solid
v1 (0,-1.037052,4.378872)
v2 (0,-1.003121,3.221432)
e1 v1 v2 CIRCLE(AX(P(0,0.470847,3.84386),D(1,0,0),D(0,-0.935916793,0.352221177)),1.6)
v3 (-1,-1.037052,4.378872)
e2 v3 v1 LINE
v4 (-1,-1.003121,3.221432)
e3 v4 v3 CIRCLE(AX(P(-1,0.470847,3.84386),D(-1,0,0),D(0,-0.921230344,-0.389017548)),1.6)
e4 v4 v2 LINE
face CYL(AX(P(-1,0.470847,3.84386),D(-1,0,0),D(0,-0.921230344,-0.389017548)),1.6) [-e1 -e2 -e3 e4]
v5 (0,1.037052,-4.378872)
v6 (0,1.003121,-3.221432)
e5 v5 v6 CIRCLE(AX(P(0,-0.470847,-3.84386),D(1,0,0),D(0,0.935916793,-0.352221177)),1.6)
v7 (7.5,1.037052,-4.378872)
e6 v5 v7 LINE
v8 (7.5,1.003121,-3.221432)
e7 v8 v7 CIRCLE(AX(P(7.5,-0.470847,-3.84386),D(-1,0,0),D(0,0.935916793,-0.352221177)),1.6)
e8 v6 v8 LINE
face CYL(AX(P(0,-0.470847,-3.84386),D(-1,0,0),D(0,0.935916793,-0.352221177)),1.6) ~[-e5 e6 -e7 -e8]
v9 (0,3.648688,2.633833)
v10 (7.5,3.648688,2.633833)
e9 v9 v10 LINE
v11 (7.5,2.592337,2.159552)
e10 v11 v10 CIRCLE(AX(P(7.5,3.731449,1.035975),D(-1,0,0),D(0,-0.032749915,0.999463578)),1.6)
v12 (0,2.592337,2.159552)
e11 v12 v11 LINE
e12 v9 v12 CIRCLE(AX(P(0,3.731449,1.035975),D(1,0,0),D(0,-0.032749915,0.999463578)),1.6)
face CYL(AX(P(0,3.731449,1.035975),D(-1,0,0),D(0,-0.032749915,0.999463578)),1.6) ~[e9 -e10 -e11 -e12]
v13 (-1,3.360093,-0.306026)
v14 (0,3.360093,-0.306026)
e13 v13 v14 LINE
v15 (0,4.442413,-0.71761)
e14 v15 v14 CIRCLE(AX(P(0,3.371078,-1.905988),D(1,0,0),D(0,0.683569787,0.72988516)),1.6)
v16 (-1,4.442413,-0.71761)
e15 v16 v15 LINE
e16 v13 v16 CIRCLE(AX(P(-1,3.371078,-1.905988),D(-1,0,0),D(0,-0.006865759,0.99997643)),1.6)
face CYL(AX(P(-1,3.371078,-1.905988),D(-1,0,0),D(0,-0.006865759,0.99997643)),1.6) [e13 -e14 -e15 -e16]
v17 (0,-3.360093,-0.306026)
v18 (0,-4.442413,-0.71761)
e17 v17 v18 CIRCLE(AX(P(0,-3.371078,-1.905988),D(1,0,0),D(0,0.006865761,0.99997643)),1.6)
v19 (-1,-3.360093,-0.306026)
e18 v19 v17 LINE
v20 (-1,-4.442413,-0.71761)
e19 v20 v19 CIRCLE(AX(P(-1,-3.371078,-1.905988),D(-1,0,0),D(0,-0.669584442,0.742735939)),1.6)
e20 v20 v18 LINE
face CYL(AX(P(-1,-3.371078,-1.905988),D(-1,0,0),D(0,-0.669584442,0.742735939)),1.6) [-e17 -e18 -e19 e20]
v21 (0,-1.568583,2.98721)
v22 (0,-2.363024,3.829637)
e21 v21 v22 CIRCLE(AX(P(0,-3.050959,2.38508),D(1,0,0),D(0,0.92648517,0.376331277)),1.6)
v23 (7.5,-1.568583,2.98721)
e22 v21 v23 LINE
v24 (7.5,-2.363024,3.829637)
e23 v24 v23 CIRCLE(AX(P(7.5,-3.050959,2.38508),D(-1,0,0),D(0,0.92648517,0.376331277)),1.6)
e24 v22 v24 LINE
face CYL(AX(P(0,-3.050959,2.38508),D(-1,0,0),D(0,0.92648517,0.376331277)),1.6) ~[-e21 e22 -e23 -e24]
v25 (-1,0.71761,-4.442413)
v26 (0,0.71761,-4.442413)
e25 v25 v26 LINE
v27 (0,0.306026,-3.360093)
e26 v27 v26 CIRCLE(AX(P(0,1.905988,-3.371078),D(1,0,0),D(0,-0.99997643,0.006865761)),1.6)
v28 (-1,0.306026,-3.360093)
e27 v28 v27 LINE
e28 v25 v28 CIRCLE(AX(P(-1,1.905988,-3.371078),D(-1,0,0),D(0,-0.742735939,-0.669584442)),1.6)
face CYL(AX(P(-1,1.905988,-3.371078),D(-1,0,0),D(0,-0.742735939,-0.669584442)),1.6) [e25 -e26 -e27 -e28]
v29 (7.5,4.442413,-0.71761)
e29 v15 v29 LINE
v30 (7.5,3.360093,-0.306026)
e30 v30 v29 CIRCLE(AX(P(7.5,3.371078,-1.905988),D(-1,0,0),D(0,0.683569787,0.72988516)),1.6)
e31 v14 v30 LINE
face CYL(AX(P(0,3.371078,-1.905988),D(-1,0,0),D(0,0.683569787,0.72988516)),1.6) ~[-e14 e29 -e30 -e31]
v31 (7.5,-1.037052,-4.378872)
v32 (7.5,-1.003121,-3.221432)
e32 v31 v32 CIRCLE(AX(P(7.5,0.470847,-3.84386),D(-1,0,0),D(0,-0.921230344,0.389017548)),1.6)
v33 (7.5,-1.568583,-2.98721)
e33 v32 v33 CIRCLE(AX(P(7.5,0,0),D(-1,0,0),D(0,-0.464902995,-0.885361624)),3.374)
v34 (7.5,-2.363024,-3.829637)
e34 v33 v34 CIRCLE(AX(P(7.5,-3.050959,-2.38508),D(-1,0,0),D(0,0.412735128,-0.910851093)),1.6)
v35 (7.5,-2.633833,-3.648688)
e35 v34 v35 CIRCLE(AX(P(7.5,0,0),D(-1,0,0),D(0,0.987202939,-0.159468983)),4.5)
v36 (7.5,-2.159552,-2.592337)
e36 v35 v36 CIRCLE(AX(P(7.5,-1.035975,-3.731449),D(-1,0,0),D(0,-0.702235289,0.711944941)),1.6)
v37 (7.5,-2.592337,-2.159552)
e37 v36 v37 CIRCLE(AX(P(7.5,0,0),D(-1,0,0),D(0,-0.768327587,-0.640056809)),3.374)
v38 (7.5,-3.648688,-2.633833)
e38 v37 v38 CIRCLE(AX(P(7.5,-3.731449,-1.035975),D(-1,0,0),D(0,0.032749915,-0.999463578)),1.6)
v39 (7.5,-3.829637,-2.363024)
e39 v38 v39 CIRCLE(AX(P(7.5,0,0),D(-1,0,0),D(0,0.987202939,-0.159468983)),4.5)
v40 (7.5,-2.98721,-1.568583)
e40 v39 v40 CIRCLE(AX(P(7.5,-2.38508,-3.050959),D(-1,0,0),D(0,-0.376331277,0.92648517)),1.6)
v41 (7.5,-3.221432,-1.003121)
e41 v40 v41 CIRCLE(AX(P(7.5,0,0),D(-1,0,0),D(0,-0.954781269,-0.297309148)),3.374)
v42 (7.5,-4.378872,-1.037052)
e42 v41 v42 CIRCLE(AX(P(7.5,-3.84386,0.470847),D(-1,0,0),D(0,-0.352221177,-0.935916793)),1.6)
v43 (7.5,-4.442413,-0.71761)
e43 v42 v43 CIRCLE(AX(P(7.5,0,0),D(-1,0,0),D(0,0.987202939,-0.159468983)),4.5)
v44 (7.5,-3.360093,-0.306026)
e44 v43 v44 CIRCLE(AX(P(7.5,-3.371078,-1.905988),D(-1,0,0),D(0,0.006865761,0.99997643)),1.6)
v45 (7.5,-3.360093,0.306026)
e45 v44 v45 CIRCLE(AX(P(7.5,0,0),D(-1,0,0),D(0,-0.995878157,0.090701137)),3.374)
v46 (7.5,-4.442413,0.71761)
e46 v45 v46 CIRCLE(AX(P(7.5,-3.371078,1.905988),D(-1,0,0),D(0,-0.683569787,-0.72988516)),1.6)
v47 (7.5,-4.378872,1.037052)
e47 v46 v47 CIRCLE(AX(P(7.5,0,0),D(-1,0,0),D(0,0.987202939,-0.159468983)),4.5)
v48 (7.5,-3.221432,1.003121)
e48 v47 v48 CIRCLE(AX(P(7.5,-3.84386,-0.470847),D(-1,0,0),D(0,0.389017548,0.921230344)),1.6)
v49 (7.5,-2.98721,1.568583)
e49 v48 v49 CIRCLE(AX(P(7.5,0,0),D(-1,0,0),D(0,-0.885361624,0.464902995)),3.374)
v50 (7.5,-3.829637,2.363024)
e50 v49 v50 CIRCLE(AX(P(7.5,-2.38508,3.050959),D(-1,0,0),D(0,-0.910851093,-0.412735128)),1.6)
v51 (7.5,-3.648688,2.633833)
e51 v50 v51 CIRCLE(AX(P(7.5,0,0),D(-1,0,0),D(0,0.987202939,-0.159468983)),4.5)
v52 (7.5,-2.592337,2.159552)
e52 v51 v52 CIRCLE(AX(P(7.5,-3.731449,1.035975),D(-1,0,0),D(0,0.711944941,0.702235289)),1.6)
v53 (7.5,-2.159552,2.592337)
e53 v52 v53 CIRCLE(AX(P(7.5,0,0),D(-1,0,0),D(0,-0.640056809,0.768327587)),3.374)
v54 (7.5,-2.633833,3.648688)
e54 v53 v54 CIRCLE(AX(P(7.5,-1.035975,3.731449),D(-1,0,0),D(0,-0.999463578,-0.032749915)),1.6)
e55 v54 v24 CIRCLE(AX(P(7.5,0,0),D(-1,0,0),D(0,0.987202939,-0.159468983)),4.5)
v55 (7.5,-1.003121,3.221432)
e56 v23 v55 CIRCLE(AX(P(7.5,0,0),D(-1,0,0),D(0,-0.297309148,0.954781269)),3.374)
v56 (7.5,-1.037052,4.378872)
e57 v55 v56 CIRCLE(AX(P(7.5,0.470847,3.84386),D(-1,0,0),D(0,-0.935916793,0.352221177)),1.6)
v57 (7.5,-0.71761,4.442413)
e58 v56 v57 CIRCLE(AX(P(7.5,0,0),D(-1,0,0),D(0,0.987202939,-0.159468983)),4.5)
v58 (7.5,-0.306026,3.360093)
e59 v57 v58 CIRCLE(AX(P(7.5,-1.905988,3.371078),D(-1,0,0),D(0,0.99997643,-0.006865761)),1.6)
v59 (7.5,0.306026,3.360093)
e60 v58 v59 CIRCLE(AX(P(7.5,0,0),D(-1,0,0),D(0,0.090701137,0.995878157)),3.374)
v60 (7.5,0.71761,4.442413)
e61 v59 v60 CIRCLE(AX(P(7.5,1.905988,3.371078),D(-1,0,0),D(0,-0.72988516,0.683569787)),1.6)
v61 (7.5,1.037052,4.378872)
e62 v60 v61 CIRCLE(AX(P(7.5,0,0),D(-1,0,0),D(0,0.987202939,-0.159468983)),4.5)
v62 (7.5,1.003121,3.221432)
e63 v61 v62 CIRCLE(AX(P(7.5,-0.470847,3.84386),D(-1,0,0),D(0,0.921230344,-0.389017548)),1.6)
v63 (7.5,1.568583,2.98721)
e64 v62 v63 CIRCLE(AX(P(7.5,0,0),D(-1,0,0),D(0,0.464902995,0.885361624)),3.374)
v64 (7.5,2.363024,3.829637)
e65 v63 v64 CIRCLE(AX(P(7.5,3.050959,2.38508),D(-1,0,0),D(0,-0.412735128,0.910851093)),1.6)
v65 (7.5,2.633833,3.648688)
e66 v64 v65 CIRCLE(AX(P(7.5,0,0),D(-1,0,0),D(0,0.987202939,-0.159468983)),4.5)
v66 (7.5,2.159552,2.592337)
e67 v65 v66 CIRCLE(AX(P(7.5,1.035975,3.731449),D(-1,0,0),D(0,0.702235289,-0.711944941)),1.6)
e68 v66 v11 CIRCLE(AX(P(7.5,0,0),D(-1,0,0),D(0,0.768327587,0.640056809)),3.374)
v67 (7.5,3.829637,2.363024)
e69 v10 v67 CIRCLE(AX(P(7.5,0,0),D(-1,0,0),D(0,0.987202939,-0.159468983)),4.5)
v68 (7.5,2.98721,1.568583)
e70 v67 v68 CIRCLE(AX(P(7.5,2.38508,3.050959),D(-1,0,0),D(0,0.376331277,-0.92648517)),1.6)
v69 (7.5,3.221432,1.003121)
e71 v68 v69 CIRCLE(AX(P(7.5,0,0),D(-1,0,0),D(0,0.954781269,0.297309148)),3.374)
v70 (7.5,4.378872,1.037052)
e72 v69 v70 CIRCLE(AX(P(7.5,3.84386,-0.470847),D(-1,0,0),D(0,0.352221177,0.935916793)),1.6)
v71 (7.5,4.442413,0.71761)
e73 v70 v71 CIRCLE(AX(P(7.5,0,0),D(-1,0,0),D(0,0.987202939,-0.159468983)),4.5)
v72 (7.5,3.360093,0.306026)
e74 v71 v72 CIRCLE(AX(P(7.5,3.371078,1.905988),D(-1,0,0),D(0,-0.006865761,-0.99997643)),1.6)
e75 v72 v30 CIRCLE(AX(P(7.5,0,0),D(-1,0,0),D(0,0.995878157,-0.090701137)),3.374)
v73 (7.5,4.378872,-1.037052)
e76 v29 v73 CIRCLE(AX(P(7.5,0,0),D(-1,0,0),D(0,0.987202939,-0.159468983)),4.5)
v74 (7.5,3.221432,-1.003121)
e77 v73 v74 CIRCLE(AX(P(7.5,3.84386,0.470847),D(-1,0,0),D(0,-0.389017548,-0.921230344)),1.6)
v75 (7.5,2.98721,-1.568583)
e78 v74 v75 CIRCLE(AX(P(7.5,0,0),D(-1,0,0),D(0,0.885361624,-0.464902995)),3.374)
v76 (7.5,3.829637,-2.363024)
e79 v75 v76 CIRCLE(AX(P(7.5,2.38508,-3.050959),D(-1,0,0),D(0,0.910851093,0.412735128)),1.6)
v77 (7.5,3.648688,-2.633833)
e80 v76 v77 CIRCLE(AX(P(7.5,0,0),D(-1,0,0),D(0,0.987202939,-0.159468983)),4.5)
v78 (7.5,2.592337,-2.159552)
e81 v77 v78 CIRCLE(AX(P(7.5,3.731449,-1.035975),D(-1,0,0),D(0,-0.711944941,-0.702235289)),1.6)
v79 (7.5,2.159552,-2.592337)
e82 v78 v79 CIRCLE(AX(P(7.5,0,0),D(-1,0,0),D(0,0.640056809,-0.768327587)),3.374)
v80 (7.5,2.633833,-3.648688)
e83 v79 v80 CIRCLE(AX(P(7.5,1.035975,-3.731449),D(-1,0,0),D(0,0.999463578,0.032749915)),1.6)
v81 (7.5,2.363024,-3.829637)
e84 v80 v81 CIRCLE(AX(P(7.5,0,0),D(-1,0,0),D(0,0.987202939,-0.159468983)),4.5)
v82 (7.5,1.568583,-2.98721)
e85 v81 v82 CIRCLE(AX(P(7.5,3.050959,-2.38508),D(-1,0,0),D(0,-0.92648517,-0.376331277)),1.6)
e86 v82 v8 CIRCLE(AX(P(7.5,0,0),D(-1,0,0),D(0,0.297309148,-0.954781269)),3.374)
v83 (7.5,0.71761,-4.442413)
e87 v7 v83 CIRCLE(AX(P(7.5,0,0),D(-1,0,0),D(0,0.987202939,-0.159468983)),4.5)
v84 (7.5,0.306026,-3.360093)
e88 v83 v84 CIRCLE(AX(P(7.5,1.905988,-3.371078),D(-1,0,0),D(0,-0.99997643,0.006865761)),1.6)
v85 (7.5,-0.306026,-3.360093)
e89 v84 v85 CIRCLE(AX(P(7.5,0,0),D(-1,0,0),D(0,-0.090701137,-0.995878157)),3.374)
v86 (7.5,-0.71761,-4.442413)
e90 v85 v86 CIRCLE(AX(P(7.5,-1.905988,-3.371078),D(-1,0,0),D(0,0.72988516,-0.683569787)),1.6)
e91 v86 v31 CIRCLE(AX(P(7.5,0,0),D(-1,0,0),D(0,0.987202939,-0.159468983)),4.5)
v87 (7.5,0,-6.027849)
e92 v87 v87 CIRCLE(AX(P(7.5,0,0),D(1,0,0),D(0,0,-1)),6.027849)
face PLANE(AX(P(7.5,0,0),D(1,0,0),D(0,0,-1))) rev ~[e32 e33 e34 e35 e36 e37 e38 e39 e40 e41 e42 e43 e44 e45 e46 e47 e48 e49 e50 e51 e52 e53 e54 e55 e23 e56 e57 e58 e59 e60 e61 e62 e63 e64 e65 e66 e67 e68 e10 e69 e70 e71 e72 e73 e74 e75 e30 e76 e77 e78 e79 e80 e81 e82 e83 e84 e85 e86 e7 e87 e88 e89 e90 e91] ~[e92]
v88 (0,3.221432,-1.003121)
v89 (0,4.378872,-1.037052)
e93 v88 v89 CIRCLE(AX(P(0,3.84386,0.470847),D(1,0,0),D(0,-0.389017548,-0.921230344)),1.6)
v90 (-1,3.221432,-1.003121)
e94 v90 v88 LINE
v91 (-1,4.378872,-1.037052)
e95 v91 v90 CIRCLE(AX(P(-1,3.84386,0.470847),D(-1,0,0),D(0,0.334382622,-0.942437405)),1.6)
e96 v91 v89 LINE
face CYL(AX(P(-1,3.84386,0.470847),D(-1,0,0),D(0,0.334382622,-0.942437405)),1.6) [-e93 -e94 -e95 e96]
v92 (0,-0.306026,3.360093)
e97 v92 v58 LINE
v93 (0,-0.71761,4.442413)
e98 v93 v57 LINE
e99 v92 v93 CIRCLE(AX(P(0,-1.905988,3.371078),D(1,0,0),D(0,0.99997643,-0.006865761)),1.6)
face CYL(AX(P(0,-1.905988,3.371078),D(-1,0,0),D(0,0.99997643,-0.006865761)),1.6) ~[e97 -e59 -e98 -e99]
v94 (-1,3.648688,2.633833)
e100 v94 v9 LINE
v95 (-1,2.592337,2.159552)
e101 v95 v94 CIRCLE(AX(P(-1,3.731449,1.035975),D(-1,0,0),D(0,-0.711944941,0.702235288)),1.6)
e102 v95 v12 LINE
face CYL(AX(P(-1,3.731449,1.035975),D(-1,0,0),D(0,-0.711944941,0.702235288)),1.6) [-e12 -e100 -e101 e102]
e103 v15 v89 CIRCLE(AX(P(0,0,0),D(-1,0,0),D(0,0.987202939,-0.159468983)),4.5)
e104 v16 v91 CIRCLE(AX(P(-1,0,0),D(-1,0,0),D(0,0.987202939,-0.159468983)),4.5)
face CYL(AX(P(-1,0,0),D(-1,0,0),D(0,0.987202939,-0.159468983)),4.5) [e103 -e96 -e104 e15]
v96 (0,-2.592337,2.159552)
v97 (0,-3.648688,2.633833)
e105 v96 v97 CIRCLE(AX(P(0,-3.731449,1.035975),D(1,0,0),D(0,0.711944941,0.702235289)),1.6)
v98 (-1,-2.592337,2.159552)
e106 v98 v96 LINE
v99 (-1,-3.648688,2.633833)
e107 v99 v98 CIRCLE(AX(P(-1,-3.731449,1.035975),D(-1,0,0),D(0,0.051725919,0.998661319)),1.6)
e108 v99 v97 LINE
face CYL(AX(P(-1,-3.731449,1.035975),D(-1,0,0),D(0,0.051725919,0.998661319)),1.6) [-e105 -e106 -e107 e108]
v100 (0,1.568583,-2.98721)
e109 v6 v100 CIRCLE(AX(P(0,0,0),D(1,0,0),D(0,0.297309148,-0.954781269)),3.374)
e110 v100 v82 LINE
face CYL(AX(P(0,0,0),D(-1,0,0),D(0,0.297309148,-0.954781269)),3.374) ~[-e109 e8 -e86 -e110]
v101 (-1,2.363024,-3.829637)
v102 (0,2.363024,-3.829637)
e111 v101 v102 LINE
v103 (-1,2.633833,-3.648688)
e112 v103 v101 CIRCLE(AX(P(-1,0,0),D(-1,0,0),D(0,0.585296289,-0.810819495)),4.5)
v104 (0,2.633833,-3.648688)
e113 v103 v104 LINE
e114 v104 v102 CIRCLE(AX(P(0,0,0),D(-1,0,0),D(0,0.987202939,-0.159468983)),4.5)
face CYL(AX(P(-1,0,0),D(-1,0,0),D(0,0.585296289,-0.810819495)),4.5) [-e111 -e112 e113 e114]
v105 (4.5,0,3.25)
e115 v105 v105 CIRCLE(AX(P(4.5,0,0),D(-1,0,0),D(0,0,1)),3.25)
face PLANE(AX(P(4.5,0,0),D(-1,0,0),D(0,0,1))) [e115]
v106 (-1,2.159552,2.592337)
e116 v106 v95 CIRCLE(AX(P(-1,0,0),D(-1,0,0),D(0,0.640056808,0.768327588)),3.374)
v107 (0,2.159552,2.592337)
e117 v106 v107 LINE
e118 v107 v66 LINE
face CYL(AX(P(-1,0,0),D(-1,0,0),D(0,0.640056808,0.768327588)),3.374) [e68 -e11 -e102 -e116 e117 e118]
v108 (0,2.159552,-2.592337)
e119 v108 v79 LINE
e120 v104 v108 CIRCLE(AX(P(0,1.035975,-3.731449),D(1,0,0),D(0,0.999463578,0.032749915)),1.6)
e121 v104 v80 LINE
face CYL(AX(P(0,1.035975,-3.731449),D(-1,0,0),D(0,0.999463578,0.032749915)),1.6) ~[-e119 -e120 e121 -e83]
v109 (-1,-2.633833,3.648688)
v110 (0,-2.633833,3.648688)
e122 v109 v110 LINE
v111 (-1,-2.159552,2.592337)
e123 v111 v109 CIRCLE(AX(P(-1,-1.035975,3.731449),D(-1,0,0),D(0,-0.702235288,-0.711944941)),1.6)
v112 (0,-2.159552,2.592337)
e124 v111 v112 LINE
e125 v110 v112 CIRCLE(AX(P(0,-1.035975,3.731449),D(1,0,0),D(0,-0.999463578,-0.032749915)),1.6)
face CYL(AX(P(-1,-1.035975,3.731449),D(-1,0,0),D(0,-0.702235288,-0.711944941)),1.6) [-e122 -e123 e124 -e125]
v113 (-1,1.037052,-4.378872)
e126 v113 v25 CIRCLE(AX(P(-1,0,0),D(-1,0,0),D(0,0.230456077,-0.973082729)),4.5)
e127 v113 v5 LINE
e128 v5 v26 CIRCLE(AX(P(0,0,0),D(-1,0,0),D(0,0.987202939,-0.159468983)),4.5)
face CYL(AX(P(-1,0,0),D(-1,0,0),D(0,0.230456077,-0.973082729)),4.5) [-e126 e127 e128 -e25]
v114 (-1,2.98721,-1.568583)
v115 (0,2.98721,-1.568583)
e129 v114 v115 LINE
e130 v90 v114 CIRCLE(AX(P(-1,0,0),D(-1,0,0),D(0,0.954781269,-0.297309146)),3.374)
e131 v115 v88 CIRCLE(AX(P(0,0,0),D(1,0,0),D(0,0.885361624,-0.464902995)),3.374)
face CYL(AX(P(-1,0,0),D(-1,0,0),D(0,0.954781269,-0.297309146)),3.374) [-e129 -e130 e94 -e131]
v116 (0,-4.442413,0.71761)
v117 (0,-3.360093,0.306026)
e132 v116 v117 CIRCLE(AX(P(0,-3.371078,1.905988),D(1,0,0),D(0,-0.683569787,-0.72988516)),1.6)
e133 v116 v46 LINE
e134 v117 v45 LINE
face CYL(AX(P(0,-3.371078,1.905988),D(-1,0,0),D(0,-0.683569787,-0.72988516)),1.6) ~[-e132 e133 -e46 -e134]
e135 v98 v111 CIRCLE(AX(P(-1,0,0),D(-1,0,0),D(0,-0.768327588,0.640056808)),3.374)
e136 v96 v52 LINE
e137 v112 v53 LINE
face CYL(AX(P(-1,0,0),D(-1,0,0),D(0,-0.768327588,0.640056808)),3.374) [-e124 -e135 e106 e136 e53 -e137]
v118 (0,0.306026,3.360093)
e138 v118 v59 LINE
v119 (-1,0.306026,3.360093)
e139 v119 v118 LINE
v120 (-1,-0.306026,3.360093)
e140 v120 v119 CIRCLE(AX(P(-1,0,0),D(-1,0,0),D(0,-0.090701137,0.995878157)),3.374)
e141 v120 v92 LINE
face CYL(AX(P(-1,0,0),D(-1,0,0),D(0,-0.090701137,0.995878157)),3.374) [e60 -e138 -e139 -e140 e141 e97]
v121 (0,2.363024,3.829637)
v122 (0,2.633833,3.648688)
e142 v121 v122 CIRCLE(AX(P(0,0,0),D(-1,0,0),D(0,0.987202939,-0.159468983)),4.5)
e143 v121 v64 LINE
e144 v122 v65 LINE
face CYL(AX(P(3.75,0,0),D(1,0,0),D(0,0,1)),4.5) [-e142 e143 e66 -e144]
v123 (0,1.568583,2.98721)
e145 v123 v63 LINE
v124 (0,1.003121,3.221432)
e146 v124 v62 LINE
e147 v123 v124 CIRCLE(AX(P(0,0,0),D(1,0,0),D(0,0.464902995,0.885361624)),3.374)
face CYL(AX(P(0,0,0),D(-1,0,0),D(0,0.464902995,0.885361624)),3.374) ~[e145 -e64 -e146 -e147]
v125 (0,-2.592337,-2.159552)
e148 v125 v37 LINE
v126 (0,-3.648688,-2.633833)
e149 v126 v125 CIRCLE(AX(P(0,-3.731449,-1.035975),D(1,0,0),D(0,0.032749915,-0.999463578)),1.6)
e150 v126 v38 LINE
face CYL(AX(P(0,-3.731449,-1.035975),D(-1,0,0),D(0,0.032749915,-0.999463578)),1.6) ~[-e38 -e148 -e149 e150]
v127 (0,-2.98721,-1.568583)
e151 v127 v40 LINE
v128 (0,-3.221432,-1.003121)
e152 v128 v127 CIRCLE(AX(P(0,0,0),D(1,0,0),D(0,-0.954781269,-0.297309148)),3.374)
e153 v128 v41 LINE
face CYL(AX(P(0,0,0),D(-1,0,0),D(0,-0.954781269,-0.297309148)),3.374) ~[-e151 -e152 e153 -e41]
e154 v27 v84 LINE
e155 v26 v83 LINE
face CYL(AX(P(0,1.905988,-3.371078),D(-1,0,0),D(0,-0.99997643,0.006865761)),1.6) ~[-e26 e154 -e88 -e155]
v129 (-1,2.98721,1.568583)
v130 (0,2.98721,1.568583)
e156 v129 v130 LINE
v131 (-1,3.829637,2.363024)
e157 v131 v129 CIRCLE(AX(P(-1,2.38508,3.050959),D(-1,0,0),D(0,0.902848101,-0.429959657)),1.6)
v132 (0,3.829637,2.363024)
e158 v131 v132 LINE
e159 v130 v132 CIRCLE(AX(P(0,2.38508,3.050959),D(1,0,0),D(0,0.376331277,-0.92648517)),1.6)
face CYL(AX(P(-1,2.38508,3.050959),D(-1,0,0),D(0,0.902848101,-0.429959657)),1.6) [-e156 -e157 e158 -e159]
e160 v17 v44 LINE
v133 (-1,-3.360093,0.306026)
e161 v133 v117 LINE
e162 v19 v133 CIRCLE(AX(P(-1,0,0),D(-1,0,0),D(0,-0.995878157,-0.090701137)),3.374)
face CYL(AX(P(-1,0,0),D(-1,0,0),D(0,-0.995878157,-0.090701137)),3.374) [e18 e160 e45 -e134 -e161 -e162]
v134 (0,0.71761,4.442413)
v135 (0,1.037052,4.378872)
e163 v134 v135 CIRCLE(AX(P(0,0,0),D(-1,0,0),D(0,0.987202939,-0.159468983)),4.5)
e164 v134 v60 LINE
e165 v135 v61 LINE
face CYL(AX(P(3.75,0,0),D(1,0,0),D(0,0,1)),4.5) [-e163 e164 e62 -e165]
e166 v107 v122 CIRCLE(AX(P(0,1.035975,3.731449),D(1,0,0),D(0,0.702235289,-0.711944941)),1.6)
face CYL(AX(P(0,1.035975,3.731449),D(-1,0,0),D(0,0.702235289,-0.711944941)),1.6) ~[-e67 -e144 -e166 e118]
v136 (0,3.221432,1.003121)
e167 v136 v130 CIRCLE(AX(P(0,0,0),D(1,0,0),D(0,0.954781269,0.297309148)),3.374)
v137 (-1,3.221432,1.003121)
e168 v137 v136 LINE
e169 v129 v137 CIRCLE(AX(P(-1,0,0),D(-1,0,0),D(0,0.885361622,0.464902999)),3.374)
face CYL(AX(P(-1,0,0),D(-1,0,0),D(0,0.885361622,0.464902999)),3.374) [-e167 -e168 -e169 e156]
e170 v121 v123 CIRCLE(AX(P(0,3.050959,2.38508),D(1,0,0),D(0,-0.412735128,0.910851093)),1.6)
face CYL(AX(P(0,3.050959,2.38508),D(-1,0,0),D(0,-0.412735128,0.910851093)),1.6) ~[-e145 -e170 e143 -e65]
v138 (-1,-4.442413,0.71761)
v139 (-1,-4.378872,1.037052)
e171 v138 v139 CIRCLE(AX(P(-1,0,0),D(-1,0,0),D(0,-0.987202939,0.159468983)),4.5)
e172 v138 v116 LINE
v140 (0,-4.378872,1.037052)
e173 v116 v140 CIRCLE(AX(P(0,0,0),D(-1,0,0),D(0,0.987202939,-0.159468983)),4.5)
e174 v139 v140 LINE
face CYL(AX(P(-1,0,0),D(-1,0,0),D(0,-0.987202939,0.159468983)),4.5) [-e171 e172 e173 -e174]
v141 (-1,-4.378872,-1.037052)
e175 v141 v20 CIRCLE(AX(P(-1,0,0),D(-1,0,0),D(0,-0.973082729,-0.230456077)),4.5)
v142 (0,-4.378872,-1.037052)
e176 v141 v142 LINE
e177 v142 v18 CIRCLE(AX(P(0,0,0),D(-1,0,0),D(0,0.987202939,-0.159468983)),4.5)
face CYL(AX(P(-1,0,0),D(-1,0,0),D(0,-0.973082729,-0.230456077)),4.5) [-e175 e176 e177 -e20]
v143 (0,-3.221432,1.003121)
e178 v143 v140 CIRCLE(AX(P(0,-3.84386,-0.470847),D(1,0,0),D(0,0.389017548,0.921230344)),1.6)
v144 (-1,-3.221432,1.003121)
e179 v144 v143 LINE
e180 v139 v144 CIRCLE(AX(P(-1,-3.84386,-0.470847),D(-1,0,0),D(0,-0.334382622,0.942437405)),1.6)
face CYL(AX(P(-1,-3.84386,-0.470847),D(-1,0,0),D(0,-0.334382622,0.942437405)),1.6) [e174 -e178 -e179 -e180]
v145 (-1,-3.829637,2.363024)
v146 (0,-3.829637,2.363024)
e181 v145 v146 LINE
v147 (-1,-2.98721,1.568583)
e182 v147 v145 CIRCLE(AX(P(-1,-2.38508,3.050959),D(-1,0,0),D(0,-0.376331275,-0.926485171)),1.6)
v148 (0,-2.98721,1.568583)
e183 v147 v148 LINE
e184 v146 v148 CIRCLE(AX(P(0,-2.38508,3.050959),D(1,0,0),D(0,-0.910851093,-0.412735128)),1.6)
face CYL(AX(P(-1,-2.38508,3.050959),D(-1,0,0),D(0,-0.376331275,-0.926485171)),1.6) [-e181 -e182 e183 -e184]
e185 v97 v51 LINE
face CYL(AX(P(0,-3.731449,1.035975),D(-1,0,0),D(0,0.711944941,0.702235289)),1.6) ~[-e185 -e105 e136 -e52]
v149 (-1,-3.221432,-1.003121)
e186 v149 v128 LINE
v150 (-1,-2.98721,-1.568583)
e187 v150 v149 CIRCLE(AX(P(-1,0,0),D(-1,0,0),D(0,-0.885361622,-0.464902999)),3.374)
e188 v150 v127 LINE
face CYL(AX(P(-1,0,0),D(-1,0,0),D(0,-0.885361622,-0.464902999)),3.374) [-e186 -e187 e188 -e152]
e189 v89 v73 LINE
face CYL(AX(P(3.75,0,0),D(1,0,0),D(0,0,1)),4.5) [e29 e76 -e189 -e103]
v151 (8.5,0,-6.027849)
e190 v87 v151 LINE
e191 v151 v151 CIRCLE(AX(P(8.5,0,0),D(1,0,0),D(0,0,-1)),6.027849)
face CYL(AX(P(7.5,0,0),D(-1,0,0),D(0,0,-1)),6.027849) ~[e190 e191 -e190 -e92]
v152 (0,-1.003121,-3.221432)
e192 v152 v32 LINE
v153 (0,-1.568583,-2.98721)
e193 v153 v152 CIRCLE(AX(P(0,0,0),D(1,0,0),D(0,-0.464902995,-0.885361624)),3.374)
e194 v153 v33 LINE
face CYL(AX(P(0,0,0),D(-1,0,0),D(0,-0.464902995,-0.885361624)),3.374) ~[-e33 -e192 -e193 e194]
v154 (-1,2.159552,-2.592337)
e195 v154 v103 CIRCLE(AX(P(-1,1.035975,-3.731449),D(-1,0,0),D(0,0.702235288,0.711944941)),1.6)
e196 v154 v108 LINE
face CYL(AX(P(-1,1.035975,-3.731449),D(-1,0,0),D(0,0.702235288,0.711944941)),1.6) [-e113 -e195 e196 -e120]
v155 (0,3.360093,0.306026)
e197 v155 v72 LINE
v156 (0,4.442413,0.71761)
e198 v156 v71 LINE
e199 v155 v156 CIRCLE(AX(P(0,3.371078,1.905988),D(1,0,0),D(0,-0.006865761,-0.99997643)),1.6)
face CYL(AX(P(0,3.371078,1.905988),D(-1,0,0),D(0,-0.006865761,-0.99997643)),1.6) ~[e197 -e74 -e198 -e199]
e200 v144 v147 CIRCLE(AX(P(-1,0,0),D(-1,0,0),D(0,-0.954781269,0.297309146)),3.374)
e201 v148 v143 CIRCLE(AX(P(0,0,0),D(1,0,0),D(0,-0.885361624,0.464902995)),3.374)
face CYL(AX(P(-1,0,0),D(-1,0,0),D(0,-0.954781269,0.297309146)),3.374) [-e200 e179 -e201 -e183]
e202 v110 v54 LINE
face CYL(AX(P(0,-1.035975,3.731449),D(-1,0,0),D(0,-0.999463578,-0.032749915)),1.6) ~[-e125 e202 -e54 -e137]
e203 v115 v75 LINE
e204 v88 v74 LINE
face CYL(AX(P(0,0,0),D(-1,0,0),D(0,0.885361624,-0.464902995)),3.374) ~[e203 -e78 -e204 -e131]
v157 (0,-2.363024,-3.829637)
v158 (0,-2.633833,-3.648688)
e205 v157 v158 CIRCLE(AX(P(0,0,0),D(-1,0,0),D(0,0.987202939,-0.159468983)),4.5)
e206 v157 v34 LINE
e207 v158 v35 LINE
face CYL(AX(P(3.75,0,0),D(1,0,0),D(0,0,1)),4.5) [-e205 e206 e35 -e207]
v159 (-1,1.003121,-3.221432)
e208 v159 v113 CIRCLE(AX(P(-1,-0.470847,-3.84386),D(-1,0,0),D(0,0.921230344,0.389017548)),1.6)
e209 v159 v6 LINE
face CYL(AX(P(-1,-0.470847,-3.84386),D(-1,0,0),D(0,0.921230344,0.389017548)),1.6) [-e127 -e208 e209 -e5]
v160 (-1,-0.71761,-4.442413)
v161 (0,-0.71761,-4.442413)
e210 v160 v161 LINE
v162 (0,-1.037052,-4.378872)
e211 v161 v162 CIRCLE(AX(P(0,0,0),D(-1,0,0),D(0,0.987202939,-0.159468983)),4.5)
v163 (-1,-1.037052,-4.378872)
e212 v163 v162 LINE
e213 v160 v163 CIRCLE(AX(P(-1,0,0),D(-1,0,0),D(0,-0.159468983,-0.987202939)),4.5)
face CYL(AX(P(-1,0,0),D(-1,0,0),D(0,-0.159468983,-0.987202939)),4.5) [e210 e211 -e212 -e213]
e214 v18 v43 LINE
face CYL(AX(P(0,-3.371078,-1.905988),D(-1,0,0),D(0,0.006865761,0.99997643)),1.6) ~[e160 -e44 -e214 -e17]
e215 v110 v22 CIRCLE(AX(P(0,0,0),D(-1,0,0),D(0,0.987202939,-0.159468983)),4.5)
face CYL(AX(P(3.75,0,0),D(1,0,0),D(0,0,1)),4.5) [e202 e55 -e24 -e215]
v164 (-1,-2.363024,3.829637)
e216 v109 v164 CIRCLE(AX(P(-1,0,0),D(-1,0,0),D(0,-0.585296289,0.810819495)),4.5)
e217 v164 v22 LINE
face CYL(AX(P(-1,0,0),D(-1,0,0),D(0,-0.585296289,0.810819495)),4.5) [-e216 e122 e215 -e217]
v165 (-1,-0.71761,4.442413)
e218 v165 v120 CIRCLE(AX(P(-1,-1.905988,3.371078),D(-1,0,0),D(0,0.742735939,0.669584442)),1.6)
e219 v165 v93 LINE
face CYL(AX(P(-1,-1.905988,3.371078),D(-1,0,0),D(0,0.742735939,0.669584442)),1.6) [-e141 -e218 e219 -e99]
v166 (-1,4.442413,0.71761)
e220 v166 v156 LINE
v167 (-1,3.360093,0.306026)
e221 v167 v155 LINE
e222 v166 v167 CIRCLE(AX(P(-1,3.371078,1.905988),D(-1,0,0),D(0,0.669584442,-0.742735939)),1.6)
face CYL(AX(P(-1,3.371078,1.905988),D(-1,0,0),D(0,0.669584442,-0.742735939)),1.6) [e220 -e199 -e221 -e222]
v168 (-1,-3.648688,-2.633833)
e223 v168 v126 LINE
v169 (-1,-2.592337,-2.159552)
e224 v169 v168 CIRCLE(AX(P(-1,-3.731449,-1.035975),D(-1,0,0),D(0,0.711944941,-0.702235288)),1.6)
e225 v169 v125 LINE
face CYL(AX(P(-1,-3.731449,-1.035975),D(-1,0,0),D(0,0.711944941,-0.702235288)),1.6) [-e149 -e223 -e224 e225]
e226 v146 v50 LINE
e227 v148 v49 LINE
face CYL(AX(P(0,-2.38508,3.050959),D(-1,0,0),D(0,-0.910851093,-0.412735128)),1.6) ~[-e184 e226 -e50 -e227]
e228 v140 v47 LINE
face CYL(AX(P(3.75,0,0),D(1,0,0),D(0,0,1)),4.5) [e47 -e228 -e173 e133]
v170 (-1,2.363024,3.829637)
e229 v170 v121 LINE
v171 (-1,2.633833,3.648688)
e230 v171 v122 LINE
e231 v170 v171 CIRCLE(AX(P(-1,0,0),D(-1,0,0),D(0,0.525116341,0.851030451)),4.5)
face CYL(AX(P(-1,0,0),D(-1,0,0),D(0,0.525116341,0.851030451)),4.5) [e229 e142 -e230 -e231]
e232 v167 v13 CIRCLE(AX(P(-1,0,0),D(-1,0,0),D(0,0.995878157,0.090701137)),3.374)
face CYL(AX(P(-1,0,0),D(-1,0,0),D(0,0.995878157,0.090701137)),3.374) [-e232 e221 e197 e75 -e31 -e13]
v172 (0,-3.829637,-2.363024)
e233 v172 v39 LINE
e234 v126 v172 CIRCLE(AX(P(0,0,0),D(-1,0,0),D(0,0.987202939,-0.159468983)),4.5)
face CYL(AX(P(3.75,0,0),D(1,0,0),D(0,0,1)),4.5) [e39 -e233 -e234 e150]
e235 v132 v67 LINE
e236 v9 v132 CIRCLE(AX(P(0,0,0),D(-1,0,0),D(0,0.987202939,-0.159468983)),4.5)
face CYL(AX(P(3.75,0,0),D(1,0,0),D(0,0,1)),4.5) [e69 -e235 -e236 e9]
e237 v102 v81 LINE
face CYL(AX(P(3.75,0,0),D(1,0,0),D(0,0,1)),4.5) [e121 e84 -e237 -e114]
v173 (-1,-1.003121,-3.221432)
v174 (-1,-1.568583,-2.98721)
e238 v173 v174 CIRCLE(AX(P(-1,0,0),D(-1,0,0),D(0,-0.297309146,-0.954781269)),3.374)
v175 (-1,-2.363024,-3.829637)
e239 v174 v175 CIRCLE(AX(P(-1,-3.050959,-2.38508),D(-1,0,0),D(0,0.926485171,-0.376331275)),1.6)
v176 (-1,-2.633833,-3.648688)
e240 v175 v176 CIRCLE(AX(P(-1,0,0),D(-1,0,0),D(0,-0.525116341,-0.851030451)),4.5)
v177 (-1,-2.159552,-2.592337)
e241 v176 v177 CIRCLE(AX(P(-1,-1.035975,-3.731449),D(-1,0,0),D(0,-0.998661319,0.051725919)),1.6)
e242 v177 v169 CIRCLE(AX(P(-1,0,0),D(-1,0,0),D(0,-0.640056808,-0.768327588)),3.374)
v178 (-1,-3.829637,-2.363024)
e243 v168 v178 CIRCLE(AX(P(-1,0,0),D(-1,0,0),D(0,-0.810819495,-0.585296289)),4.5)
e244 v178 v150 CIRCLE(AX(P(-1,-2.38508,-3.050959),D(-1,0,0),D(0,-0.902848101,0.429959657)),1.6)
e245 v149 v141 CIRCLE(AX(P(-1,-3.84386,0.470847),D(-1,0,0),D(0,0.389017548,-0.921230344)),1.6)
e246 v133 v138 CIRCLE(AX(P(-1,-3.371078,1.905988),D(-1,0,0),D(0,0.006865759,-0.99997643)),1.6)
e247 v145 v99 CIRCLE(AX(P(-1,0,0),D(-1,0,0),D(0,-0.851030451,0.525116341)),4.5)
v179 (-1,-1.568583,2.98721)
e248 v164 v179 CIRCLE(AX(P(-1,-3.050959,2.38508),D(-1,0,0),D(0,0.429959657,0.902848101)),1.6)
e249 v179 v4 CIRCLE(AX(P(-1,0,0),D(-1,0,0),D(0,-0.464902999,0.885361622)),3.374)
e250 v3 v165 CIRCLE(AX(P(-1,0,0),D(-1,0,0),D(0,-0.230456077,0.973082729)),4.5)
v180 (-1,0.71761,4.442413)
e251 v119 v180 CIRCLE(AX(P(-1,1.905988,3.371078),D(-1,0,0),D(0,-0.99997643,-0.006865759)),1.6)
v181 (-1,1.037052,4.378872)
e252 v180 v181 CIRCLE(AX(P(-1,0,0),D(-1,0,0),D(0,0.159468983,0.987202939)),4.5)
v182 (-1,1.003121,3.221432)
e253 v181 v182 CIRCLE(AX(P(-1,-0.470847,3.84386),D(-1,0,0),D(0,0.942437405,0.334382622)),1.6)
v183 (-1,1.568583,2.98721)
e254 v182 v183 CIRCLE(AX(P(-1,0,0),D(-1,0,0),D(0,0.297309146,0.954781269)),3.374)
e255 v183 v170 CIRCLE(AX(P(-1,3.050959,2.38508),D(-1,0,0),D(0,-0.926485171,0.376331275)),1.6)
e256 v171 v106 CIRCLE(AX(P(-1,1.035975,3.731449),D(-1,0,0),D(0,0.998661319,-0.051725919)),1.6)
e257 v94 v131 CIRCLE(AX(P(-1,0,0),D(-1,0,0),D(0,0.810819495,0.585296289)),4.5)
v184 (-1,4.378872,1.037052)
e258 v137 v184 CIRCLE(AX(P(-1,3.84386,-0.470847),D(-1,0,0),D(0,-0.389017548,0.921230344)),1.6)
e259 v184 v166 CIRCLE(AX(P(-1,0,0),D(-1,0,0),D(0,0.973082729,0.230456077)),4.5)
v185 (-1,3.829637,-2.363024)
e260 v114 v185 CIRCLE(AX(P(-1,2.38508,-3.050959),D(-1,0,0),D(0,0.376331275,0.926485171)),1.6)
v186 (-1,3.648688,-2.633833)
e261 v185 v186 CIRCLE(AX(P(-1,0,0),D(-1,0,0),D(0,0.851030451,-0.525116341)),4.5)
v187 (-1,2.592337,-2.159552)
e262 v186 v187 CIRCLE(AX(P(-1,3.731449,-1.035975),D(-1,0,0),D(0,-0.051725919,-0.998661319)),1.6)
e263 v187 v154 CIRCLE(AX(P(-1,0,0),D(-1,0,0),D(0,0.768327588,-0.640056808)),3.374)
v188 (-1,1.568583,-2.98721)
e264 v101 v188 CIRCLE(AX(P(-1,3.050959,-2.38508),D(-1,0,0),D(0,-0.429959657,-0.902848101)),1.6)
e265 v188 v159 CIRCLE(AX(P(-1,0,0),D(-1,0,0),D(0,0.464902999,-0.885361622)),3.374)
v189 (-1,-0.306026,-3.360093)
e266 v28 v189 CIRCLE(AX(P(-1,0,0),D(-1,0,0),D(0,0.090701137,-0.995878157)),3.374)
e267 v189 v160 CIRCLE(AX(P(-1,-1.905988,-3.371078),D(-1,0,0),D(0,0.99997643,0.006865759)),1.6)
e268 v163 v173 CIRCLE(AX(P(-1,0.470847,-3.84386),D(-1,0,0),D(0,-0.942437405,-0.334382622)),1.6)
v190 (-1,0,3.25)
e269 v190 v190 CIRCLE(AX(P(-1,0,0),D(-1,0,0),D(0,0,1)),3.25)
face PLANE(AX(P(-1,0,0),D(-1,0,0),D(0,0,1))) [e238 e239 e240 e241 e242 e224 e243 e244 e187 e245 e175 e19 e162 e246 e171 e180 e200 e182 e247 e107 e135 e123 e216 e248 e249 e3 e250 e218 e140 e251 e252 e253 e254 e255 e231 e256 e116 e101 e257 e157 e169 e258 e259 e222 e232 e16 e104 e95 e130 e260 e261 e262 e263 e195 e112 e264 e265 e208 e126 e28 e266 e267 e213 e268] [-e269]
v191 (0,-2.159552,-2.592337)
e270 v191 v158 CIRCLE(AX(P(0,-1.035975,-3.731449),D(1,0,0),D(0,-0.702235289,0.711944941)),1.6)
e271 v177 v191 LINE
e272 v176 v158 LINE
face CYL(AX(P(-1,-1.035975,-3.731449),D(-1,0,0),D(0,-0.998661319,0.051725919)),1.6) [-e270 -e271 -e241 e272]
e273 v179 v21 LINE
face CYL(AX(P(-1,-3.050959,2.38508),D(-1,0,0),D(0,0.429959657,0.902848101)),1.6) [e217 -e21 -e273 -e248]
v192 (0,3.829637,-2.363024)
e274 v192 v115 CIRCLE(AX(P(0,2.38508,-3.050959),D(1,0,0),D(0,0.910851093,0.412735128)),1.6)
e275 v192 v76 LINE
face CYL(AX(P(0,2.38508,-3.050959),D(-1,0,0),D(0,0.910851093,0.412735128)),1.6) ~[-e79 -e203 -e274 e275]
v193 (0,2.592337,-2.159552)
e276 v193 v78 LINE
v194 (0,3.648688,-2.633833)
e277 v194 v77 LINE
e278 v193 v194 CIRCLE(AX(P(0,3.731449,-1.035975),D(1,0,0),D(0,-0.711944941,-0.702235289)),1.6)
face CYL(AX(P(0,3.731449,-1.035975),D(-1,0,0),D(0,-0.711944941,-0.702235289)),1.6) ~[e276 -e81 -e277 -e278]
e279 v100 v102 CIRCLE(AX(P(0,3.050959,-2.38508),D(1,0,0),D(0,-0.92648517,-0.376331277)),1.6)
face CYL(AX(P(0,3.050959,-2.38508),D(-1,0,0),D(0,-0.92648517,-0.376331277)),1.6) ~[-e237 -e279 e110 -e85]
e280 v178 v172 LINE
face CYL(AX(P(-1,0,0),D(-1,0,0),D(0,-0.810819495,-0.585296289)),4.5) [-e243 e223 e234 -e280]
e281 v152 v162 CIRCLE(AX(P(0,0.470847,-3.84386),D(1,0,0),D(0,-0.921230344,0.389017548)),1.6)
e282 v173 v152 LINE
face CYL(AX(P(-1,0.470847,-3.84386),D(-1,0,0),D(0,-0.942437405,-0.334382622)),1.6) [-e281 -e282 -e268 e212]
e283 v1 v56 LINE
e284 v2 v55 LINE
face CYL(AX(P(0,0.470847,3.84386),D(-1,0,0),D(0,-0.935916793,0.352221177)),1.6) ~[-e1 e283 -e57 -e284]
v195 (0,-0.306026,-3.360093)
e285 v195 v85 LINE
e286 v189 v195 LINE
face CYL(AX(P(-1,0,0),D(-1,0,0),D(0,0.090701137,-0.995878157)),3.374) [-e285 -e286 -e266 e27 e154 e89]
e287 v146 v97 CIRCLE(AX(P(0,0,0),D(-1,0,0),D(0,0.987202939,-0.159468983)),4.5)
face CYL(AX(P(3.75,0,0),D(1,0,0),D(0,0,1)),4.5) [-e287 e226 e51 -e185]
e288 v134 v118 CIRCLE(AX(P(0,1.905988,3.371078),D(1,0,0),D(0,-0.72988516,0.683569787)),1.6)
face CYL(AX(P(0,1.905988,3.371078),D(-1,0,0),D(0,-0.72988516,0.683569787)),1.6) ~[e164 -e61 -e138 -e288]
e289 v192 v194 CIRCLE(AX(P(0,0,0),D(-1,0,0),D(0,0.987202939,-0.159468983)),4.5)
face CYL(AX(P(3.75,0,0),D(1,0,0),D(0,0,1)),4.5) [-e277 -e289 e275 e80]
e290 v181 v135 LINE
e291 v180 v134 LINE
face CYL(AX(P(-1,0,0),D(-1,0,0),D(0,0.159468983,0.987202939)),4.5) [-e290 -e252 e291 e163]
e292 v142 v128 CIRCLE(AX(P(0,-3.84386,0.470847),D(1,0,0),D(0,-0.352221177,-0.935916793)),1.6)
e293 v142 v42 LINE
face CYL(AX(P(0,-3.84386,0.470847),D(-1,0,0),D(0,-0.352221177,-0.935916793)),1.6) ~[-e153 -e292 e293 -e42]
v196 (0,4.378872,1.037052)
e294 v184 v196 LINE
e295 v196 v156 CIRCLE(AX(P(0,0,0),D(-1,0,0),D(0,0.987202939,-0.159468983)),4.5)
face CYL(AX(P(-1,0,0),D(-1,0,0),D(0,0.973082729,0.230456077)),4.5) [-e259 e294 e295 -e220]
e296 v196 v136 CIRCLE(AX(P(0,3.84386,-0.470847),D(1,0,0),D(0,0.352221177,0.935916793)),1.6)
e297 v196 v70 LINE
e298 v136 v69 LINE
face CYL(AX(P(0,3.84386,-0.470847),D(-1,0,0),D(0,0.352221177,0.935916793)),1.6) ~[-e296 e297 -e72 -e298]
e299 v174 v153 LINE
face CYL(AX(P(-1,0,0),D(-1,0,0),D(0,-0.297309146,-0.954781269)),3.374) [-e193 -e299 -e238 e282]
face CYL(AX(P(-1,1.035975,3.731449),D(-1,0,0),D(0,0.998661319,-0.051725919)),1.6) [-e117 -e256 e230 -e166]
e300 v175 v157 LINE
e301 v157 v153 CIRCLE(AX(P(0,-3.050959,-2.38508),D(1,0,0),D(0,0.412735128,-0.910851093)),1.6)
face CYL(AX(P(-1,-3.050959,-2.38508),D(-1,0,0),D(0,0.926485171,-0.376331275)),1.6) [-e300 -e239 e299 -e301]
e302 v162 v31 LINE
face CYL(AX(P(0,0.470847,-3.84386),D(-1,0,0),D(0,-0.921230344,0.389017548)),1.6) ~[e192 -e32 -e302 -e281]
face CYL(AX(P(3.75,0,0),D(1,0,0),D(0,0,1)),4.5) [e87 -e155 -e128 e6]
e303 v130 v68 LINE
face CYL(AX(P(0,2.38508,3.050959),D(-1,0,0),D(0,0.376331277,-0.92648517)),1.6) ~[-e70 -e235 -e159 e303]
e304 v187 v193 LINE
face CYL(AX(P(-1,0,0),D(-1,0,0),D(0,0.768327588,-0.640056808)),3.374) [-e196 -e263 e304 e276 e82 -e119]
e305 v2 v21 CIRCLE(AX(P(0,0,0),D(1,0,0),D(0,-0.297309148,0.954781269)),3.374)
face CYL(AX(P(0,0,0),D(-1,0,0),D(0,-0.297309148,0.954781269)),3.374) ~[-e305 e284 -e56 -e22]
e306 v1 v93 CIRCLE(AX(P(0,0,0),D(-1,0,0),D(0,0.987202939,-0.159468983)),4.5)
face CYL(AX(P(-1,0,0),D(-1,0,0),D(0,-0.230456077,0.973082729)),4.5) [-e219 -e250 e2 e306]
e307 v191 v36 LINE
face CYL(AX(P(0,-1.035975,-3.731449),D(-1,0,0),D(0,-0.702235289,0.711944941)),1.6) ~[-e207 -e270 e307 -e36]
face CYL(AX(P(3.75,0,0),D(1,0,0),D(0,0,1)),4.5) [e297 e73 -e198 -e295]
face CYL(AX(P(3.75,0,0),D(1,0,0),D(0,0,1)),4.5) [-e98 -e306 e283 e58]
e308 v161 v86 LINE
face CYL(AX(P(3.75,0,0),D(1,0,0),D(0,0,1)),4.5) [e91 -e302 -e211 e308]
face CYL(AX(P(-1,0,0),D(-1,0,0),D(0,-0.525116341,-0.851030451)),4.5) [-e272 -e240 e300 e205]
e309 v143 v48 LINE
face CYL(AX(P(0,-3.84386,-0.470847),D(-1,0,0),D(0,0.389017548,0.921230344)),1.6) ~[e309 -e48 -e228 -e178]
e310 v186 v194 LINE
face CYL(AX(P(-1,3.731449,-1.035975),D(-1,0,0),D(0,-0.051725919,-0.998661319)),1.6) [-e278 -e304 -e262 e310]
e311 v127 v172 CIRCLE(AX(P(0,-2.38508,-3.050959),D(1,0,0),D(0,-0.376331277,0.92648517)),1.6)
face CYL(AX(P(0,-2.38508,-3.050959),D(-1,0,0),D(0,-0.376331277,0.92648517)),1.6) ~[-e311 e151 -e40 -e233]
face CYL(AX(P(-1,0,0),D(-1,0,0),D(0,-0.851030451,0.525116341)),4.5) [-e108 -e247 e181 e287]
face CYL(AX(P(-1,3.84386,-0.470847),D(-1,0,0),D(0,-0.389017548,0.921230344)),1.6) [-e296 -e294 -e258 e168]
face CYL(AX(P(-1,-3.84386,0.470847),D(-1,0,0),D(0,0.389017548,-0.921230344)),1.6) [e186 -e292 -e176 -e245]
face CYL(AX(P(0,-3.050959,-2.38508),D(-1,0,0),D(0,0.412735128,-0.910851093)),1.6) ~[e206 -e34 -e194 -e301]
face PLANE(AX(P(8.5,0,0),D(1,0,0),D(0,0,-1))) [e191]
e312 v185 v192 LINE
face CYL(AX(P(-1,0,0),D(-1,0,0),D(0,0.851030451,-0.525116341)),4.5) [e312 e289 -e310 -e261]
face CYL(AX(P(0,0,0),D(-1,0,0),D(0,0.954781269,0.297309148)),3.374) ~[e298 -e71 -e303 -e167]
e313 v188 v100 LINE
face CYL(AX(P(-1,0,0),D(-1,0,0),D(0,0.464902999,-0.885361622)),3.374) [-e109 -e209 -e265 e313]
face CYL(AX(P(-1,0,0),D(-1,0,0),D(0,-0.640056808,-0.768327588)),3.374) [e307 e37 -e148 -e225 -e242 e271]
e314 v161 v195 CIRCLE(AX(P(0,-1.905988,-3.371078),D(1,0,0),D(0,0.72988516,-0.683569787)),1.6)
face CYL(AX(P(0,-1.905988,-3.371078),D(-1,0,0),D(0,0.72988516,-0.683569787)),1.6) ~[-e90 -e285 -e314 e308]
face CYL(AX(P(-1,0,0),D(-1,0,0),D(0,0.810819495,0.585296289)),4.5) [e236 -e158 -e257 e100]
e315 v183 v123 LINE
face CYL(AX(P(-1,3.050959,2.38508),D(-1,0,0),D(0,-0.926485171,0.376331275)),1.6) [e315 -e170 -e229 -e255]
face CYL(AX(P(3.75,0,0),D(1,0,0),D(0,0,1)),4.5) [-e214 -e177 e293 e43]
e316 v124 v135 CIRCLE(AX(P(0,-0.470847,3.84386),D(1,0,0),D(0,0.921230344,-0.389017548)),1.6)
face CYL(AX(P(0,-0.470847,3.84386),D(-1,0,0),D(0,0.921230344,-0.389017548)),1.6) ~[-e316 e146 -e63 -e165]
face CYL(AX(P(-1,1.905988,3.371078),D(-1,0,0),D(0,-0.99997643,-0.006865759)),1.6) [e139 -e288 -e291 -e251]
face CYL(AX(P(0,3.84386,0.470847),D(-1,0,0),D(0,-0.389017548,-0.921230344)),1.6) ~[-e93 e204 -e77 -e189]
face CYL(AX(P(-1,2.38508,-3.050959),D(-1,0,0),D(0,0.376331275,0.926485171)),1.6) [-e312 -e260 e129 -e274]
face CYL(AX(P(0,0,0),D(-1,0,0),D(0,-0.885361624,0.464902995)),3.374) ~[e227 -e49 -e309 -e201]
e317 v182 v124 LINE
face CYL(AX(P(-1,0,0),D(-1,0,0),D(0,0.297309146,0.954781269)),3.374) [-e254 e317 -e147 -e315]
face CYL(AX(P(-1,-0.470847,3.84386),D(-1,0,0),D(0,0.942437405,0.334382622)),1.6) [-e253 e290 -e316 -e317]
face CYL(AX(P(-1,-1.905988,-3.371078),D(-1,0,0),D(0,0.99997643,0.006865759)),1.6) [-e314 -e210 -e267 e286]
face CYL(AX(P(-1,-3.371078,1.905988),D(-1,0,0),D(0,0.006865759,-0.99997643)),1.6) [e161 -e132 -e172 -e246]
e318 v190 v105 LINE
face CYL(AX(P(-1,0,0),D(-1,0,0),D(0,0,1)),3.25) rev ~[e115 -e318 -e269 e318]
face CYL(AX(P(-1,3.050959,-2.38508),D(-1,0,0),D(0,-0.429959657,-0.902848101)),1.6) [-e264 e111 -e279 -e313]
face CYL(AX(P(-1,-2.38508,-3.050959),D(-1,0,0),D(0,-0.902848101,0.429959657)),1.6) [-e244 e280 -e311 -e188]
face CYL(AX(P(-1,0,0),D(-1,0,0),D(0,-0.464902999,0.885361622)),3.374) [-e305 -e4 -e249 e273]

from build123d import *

# Parameters (mm, degrees)
BASPROSKE_W             = 7.5
BASPROSKE_H             = 4.5
TOOTHCUT_DEPTH          = 10.836157786
TEETHCUTS_COUNT         = 16
TEETHCUTS_ANGLE         = 337.5
BORSKE_R                = 2.5
BORE_DEPTH              = 50.0000508
ESQUISSE5_R             = 6.027848577
ESQUISSE5_R_2           = 2.85
BOSS_EXTRU_4_DEPTH      = 1
BOSS_EXTRU_6_START      = -8.5
ESQUISSE7_R             = 3.00711341
BOSS_EXTRU_6_DEPTH      = 8.5
BOSS_EXTRU_7_START      = 1
BOSS_EXTRU_7_DEPTH      = 1
ESQUISSE9_R             = 3.25
ENL_V_MAT_EXTRU_1_DEPTH = 5.5


with BuildPart() as part:
    # BasProSke → Base-Revolve (revolve)
    with BuildSketch(Plane(origin=(0, 0, 0), x_dir=(1, 0, 0), z_dir=(0, 1, 0)), mode=Mode.PRIVATE) as base_revolve_sk:
        with Locations((3.75, 2.25)):
            Rectangle(BASPROSKE_W, BASPROSKE_H)
    revolve(base_revolve_sk.sketch.rotate(Axis((-10, 0, 0), (1, 0, 0)), 180), axis=Axis((-10, 0, 0), (1, 0, 0)))

    # TooCutSke → ToothCut (cut, through all)
    with BuildSketch(Plane(origin=(0, 0, 0), x_dir=(0, 0, -1), z_dir=(1, 0, 0))):
        with BuildLine():
            ThreePointArc((0.306025637, 3.360092902), (0, 3.374), (-0.306025637, 3.360092902))
            ThreePointArc((-0.306025637, 3.360092902), (-0.415941512, 3.953968919), (-0.738171669, 4.464789776))
            ThreePointArc((-0.738171669, 4.464789776), (0, 4.5254), (0.738171669, 4.464789776))
            ThreePointArc((0.738171669, 4.464789776), (0.415941512, 3.953968919), (0.306025637, 3.360092902))
        make_face()
    toothcut = extrude(amount=TOOTHCUT_DEPTH, mode=Mode.SUBTRACT)

    # TeethCuts: ToothCut ×16 about axis
    teethcuts_axis = Axis((-10, 0, 0), (1, 0, 0))
    for i in range(1, TEETHCUTS_COUNT):
        add(toothcut.rotate(teethcuts_axis, i * TEETHCUTS_ANGLE / (TEETHCUTS_COUNT - 1)), mode=Mode.SUBTRACT)

    # BorSke → Bore (cut, symmetric)
    with BuildSketch(Plane(origin=(0, 0, 0), x_dir=(0, 0, -1), z_dir=(1, 0, 0))):
        with Locations(Location((0, 0, 0), (0, 0, 180))):
            Circle(BORSKE_R)
    extrude(amount=BORE_DEPTH, both=True, mode=Mode.SUBTRACT)

    # Esquisse5 → Boss.-Extru.4 (add)
    with BuildSketch(Plane(origin=(7.5, 0, 0), x_dir=(0, 0, -1), z_dir=(1, 0, 0))):
        Circle(ESQUISSE5_R)
        Circle(ESQUISSE5_R_2, mode=Mode.SUBTRACT)
    extrude(amount=BOSS_EXTRU_4_DEPTH)

    # Esquisse7 → Boss.-Extru.6 (add)
    with BuildSketch(Plane.ZY.offset(BOSS_EXTRU_6_START)):
        Circle(ESQUISSE7_R)
    extrude(amount=BOSS_EXTRU_6_DEPTH)

    # Esquisse8 → Boss.-Extru.7 (add)
    with BuildSketch(Plane.ZY.offset(BOSS_EXTRU_7_START)):
        with BuildLine():
            ThreePointArc((3.360092902, 0.306025637), (3.939792443, 0.410473293), (4.442413227, 0.717610424))
            ThreePointArc((4.442413227, 0.717610424), (4.413533762, 0.877906449), (4.378872276, 1.037052359))
            ThreePointArc((4.378872276, 1.037052359), (3.796974929, 1.128465421), (3.221432001, 1.003121062))
            ThreePointArc((3.221432001, 1.003121062), (3.117169543, 1.291173901), (2.987210118, 1.568582707))
            ThreePointArc((2.987210118, 1.568582707), (3.482812272, 1.886921168), (3.829637035, 2.363023525))
            ThreePointArc((3.829637035, 2.363023525), (3.741613255, 2.500066049), (3.648687715, 2.633833321))
            ThreePointArc((3.648687715, 2.633833321), (3.076102401, 2.495605504), (2.59233728, 2.159551673))
            ThreePointArc((2.59233728, 2.159551673), (2.38577828, 2.38577828), (2.159551673, 2.59233728))
            ThreePointArc((2.159551673, 2.59233728), (2.495605504, 3.076102401), (2.633833321, 3.648687715))
            ThreePointArc((2.633833321, 3.648687715), (2.500066049, 3.741613255), (2.363023525, 3.829637035))
            ThreePointArc((2.363023525, 3.829637035), (1.886921168, 3.482812272), (1.568582707, 2.987210118))
            ThreePointArc((1.568582707, 2.987210118), (1.291173901, 3.117169543), (1.003121062, 3.221432001))
            ThreePointArc((1.003121062, 3.221432001), (1.128465421, 3.796974929), (1.037052359, 4.378872276))
            ThreePointArc((1.037052359, 4.378872276), (0.877906449, 4.413533762), (0.717610424, 4.442413227))
            ThreePointArc((0.717610424, 4.442413227), (0.410473293, 3.939792443), (0.306025637, 3.360092902))
            ThreePointArc((0.306025637, 3.360092902), (0, 3.374), (-0.306025637, 3.360092902))
            ThreePointArc((-0.306025637, 3.360092902), (-0.410473293, 3.939792443), (-0.717610424, 4.442413227))
            ThreePointArc((-0.717610424, 4.442413227), (-0.877906449, 4.413533762), (-1.037052359, 4.378872276))
            ThreePointArc((-1.037052359, 4.378872276), (-1.128465421, 3.796974929), (-1.003121062, 3.221432001))
            ThreePointArc((-1.003121062, 3.221432001), (-1.291173901, 3.117169543), (-1.568582707, 2.987210118))
            ThreePointArc((-1.568582707, 2.987210118), (-1.886921168, 3.482812272), (-2.363023525, 3.829637035))
            ThreePointArc((-2.363023525, 3.829637035), (-2.500066049, 3.741613255), (-2.633833321, 3.648687715))
            ThreePointArc((-2.633833321, 3.648687715), (-2.495605504, 3.076102401), (-2.159551673, 2.59233728))
            ThreePointArc((-2.159551673, 2.59233728), (-2.38577828, 2.38577828), (-2.59233728, 2.159551673))
            ThreePointArc((-2.59233728, 2.159551673), (-3.076102401, 2.495605504), (-3.648687715, 2.633833321))
            ThreePointArc((-3.648687715, 2.633833321), (-3.741613255, 2.500066049), (-3.829637035, 2.363023525))
            ThreePointArc((-3.829637035, 2.363023525), (-3.482812272, 1.886921168), (-2.987210118, 1.568582707))
            ThreePointArc((-2.987210118, 1.568582707), (-3.117169543, 1.291173901), (-3.221432001, 1.003121062))
            ThreePointArc((-3.221432001, 1.003121062), (-3.796974929, 1.128465421), (-4.378872276, 1.037052359))
            ThreePointArc((-4.378872276, 1.037052359), (-4.413533762, 0.877906449), (-4.442413227, 0.717610424))
            ThreePointArc((-4.442413227, 0.717610424), (-3.939792443, 0.410473293), (-3.360092902, 0.306025637))
            ThreePointArc((-3.360092902, 0.306025637), (-3.374, 0), (-3.360092902, -0.306025637))
            ThreePointArc((-3.360092902, -0.306025637), (-3.939792443, -0.410473293), (-4.442413227, -0.717610424))
            ThreePointArc((-4.442413227, -0.717610424), (-4.413533762, -0.877906449), (-4.378872276, -1.037052359))
            ThreePointArc((-4.378872276, -1.037052359), (-3.796974929, -1.128465421), (-3.221432001, -1.003121062))
            ThreePointArc((-3.221432001, -1.003121062), (-3.117169543, -1.291173901), (-2.987210118, -1.568582707))
            ThreePointArc((-2.987210118, -1.568582707), (-3.482812272, -1.886921168), (-3.829637035, -2.363023525))
            ThreePointArc((-3.829637035, -2.363023525), (-3.741613255, -2.500066049), (-3.648687715, -2.633833321))
            ThreePointArc((-3.648687715, -2.633833321), (-3.076102401, -2.495605504), (-2.59233728, -2.159551673))
            ThreePointArc((-2.59233728, -2.159551673), (-2.38577828, -2.38577828), (-2.159551673, -2.59233728))
            ThreePointArc((-2.159551673, -2.59233728), (-2.495605504, -3.076102401), (-2.633833321, -3.648687715))
            ThreePointArc((-2.633833321, -3.648687715), (-2.500066049, -3.741613255), (-2.363023525, -3.829637035))
            ThreePointArc((-2.363023525, -3.829637035), (-1.886921168, -3.482812272), (-1.568582707, -2.987210118))
            ThreePointArc((-1.568582707, -2.987210118), (-1.291173901, -3.117169543), (-1.003121062, -3.221432001))
            ThreePointArc((-1.003121062, -3.221432001), (-1.128465421, -3.796974929), (-1.037052359, -4.378872276))
            ThreePointArc((-1.037052359, -4.378872276), (-0.877906449, -4.413533762), (-0.717610424, -4.442413227))
            ThreePointArc((-0.717610424, -4.442413227), (-0.410473293, -3.939792443), (-0.306025637, -3.360092902))
            ThreePointArc((-0.306025637, -3.360092902), (0, -3.374), (0.306025637, -3.360092902))
            ThreePointArc((0.306025637, -3.360092902), (0.410473293, -3.939792443), (0.717610424, -4.442413227))
            ThreePointArc((0.717610424, -4.442413227), (0.877906449, -4.413533762), (1.037052359, -4.378872276))
            ThreePointArc((1.037052359, -4.378872276), (1.128465421, -3.796974929), (1.003121062, -3.221432001))
            ThreePointArc((1.003121062, -3.221432001), (1.291173901, -3.117169543), (1.568582707, -2.987210118))
            ThreePointArc((1.568582707, -2.987210118), (1.886921168, -3.482812272), (2.363023525, -3.829637035))
            ThreePointArc((2.363023525, -3.829637035), (2.500066049, -3.741613255), (2.633833321, -3.648687715))
            ThreePointArc((2.633833321, -3.648687715), (2.495605504, -3.076102401), (2.159551673, -2.59233728))
            ThreePointArc((2.159551673, -2.59233728), (2.38577828, -2.38577828), (2.59233728, -2.159551673))
            ThreePointArc((2.59233728, -2.159551673), (3.076102401, -2.495605504), (3.648687715, -2.633833321))
            ThreePointArc((3.648687715, -2.633833321), (3.741613255, -2.500066049), (3.829637035, -2.363023525))
            ThreePointArc((3.829637035, -2.363023525), (3.482812272, -1.886921168), (2.987210118, -1.568582707))
            ThreePointArc((2.987210118, -1.568582707), (3.117169543, -1.291173901), (3.221432001, -1.003121062))
            ThreePointArc((3.221432001, -1.003121062), (3.796974929, -1.128465421), (4.378872276, -1.037052359))
            ThreePointArc((4.378872276, -1.037052359), (4.413533762, -0.877906449), (4.442413227, -0.717610424))
            ThreePointArc((4.442413227, -0.717610424), (3.939792443, -0.410473293), (3.360092902, -0.306025637))
            ThreePointArc((3.360092902, -0.306025637), (3.374, 0), (3.360092902, 0.306025637))
        make_face()
    extrude(amount=-BOSS_EXTRU_7_DEPTH)

    # Esquisse9 → Enlèv. mat.-Extru.1 (cut)
    with BuildSketch(Plane.ZY.offset(1)):
        Circle(ESQUISSE9_R)
    extrude(amount=-ENL_V_MAT_EXTRU_1_DEPTH, mode=Mode.SUBTRACT)


solid = part.part
